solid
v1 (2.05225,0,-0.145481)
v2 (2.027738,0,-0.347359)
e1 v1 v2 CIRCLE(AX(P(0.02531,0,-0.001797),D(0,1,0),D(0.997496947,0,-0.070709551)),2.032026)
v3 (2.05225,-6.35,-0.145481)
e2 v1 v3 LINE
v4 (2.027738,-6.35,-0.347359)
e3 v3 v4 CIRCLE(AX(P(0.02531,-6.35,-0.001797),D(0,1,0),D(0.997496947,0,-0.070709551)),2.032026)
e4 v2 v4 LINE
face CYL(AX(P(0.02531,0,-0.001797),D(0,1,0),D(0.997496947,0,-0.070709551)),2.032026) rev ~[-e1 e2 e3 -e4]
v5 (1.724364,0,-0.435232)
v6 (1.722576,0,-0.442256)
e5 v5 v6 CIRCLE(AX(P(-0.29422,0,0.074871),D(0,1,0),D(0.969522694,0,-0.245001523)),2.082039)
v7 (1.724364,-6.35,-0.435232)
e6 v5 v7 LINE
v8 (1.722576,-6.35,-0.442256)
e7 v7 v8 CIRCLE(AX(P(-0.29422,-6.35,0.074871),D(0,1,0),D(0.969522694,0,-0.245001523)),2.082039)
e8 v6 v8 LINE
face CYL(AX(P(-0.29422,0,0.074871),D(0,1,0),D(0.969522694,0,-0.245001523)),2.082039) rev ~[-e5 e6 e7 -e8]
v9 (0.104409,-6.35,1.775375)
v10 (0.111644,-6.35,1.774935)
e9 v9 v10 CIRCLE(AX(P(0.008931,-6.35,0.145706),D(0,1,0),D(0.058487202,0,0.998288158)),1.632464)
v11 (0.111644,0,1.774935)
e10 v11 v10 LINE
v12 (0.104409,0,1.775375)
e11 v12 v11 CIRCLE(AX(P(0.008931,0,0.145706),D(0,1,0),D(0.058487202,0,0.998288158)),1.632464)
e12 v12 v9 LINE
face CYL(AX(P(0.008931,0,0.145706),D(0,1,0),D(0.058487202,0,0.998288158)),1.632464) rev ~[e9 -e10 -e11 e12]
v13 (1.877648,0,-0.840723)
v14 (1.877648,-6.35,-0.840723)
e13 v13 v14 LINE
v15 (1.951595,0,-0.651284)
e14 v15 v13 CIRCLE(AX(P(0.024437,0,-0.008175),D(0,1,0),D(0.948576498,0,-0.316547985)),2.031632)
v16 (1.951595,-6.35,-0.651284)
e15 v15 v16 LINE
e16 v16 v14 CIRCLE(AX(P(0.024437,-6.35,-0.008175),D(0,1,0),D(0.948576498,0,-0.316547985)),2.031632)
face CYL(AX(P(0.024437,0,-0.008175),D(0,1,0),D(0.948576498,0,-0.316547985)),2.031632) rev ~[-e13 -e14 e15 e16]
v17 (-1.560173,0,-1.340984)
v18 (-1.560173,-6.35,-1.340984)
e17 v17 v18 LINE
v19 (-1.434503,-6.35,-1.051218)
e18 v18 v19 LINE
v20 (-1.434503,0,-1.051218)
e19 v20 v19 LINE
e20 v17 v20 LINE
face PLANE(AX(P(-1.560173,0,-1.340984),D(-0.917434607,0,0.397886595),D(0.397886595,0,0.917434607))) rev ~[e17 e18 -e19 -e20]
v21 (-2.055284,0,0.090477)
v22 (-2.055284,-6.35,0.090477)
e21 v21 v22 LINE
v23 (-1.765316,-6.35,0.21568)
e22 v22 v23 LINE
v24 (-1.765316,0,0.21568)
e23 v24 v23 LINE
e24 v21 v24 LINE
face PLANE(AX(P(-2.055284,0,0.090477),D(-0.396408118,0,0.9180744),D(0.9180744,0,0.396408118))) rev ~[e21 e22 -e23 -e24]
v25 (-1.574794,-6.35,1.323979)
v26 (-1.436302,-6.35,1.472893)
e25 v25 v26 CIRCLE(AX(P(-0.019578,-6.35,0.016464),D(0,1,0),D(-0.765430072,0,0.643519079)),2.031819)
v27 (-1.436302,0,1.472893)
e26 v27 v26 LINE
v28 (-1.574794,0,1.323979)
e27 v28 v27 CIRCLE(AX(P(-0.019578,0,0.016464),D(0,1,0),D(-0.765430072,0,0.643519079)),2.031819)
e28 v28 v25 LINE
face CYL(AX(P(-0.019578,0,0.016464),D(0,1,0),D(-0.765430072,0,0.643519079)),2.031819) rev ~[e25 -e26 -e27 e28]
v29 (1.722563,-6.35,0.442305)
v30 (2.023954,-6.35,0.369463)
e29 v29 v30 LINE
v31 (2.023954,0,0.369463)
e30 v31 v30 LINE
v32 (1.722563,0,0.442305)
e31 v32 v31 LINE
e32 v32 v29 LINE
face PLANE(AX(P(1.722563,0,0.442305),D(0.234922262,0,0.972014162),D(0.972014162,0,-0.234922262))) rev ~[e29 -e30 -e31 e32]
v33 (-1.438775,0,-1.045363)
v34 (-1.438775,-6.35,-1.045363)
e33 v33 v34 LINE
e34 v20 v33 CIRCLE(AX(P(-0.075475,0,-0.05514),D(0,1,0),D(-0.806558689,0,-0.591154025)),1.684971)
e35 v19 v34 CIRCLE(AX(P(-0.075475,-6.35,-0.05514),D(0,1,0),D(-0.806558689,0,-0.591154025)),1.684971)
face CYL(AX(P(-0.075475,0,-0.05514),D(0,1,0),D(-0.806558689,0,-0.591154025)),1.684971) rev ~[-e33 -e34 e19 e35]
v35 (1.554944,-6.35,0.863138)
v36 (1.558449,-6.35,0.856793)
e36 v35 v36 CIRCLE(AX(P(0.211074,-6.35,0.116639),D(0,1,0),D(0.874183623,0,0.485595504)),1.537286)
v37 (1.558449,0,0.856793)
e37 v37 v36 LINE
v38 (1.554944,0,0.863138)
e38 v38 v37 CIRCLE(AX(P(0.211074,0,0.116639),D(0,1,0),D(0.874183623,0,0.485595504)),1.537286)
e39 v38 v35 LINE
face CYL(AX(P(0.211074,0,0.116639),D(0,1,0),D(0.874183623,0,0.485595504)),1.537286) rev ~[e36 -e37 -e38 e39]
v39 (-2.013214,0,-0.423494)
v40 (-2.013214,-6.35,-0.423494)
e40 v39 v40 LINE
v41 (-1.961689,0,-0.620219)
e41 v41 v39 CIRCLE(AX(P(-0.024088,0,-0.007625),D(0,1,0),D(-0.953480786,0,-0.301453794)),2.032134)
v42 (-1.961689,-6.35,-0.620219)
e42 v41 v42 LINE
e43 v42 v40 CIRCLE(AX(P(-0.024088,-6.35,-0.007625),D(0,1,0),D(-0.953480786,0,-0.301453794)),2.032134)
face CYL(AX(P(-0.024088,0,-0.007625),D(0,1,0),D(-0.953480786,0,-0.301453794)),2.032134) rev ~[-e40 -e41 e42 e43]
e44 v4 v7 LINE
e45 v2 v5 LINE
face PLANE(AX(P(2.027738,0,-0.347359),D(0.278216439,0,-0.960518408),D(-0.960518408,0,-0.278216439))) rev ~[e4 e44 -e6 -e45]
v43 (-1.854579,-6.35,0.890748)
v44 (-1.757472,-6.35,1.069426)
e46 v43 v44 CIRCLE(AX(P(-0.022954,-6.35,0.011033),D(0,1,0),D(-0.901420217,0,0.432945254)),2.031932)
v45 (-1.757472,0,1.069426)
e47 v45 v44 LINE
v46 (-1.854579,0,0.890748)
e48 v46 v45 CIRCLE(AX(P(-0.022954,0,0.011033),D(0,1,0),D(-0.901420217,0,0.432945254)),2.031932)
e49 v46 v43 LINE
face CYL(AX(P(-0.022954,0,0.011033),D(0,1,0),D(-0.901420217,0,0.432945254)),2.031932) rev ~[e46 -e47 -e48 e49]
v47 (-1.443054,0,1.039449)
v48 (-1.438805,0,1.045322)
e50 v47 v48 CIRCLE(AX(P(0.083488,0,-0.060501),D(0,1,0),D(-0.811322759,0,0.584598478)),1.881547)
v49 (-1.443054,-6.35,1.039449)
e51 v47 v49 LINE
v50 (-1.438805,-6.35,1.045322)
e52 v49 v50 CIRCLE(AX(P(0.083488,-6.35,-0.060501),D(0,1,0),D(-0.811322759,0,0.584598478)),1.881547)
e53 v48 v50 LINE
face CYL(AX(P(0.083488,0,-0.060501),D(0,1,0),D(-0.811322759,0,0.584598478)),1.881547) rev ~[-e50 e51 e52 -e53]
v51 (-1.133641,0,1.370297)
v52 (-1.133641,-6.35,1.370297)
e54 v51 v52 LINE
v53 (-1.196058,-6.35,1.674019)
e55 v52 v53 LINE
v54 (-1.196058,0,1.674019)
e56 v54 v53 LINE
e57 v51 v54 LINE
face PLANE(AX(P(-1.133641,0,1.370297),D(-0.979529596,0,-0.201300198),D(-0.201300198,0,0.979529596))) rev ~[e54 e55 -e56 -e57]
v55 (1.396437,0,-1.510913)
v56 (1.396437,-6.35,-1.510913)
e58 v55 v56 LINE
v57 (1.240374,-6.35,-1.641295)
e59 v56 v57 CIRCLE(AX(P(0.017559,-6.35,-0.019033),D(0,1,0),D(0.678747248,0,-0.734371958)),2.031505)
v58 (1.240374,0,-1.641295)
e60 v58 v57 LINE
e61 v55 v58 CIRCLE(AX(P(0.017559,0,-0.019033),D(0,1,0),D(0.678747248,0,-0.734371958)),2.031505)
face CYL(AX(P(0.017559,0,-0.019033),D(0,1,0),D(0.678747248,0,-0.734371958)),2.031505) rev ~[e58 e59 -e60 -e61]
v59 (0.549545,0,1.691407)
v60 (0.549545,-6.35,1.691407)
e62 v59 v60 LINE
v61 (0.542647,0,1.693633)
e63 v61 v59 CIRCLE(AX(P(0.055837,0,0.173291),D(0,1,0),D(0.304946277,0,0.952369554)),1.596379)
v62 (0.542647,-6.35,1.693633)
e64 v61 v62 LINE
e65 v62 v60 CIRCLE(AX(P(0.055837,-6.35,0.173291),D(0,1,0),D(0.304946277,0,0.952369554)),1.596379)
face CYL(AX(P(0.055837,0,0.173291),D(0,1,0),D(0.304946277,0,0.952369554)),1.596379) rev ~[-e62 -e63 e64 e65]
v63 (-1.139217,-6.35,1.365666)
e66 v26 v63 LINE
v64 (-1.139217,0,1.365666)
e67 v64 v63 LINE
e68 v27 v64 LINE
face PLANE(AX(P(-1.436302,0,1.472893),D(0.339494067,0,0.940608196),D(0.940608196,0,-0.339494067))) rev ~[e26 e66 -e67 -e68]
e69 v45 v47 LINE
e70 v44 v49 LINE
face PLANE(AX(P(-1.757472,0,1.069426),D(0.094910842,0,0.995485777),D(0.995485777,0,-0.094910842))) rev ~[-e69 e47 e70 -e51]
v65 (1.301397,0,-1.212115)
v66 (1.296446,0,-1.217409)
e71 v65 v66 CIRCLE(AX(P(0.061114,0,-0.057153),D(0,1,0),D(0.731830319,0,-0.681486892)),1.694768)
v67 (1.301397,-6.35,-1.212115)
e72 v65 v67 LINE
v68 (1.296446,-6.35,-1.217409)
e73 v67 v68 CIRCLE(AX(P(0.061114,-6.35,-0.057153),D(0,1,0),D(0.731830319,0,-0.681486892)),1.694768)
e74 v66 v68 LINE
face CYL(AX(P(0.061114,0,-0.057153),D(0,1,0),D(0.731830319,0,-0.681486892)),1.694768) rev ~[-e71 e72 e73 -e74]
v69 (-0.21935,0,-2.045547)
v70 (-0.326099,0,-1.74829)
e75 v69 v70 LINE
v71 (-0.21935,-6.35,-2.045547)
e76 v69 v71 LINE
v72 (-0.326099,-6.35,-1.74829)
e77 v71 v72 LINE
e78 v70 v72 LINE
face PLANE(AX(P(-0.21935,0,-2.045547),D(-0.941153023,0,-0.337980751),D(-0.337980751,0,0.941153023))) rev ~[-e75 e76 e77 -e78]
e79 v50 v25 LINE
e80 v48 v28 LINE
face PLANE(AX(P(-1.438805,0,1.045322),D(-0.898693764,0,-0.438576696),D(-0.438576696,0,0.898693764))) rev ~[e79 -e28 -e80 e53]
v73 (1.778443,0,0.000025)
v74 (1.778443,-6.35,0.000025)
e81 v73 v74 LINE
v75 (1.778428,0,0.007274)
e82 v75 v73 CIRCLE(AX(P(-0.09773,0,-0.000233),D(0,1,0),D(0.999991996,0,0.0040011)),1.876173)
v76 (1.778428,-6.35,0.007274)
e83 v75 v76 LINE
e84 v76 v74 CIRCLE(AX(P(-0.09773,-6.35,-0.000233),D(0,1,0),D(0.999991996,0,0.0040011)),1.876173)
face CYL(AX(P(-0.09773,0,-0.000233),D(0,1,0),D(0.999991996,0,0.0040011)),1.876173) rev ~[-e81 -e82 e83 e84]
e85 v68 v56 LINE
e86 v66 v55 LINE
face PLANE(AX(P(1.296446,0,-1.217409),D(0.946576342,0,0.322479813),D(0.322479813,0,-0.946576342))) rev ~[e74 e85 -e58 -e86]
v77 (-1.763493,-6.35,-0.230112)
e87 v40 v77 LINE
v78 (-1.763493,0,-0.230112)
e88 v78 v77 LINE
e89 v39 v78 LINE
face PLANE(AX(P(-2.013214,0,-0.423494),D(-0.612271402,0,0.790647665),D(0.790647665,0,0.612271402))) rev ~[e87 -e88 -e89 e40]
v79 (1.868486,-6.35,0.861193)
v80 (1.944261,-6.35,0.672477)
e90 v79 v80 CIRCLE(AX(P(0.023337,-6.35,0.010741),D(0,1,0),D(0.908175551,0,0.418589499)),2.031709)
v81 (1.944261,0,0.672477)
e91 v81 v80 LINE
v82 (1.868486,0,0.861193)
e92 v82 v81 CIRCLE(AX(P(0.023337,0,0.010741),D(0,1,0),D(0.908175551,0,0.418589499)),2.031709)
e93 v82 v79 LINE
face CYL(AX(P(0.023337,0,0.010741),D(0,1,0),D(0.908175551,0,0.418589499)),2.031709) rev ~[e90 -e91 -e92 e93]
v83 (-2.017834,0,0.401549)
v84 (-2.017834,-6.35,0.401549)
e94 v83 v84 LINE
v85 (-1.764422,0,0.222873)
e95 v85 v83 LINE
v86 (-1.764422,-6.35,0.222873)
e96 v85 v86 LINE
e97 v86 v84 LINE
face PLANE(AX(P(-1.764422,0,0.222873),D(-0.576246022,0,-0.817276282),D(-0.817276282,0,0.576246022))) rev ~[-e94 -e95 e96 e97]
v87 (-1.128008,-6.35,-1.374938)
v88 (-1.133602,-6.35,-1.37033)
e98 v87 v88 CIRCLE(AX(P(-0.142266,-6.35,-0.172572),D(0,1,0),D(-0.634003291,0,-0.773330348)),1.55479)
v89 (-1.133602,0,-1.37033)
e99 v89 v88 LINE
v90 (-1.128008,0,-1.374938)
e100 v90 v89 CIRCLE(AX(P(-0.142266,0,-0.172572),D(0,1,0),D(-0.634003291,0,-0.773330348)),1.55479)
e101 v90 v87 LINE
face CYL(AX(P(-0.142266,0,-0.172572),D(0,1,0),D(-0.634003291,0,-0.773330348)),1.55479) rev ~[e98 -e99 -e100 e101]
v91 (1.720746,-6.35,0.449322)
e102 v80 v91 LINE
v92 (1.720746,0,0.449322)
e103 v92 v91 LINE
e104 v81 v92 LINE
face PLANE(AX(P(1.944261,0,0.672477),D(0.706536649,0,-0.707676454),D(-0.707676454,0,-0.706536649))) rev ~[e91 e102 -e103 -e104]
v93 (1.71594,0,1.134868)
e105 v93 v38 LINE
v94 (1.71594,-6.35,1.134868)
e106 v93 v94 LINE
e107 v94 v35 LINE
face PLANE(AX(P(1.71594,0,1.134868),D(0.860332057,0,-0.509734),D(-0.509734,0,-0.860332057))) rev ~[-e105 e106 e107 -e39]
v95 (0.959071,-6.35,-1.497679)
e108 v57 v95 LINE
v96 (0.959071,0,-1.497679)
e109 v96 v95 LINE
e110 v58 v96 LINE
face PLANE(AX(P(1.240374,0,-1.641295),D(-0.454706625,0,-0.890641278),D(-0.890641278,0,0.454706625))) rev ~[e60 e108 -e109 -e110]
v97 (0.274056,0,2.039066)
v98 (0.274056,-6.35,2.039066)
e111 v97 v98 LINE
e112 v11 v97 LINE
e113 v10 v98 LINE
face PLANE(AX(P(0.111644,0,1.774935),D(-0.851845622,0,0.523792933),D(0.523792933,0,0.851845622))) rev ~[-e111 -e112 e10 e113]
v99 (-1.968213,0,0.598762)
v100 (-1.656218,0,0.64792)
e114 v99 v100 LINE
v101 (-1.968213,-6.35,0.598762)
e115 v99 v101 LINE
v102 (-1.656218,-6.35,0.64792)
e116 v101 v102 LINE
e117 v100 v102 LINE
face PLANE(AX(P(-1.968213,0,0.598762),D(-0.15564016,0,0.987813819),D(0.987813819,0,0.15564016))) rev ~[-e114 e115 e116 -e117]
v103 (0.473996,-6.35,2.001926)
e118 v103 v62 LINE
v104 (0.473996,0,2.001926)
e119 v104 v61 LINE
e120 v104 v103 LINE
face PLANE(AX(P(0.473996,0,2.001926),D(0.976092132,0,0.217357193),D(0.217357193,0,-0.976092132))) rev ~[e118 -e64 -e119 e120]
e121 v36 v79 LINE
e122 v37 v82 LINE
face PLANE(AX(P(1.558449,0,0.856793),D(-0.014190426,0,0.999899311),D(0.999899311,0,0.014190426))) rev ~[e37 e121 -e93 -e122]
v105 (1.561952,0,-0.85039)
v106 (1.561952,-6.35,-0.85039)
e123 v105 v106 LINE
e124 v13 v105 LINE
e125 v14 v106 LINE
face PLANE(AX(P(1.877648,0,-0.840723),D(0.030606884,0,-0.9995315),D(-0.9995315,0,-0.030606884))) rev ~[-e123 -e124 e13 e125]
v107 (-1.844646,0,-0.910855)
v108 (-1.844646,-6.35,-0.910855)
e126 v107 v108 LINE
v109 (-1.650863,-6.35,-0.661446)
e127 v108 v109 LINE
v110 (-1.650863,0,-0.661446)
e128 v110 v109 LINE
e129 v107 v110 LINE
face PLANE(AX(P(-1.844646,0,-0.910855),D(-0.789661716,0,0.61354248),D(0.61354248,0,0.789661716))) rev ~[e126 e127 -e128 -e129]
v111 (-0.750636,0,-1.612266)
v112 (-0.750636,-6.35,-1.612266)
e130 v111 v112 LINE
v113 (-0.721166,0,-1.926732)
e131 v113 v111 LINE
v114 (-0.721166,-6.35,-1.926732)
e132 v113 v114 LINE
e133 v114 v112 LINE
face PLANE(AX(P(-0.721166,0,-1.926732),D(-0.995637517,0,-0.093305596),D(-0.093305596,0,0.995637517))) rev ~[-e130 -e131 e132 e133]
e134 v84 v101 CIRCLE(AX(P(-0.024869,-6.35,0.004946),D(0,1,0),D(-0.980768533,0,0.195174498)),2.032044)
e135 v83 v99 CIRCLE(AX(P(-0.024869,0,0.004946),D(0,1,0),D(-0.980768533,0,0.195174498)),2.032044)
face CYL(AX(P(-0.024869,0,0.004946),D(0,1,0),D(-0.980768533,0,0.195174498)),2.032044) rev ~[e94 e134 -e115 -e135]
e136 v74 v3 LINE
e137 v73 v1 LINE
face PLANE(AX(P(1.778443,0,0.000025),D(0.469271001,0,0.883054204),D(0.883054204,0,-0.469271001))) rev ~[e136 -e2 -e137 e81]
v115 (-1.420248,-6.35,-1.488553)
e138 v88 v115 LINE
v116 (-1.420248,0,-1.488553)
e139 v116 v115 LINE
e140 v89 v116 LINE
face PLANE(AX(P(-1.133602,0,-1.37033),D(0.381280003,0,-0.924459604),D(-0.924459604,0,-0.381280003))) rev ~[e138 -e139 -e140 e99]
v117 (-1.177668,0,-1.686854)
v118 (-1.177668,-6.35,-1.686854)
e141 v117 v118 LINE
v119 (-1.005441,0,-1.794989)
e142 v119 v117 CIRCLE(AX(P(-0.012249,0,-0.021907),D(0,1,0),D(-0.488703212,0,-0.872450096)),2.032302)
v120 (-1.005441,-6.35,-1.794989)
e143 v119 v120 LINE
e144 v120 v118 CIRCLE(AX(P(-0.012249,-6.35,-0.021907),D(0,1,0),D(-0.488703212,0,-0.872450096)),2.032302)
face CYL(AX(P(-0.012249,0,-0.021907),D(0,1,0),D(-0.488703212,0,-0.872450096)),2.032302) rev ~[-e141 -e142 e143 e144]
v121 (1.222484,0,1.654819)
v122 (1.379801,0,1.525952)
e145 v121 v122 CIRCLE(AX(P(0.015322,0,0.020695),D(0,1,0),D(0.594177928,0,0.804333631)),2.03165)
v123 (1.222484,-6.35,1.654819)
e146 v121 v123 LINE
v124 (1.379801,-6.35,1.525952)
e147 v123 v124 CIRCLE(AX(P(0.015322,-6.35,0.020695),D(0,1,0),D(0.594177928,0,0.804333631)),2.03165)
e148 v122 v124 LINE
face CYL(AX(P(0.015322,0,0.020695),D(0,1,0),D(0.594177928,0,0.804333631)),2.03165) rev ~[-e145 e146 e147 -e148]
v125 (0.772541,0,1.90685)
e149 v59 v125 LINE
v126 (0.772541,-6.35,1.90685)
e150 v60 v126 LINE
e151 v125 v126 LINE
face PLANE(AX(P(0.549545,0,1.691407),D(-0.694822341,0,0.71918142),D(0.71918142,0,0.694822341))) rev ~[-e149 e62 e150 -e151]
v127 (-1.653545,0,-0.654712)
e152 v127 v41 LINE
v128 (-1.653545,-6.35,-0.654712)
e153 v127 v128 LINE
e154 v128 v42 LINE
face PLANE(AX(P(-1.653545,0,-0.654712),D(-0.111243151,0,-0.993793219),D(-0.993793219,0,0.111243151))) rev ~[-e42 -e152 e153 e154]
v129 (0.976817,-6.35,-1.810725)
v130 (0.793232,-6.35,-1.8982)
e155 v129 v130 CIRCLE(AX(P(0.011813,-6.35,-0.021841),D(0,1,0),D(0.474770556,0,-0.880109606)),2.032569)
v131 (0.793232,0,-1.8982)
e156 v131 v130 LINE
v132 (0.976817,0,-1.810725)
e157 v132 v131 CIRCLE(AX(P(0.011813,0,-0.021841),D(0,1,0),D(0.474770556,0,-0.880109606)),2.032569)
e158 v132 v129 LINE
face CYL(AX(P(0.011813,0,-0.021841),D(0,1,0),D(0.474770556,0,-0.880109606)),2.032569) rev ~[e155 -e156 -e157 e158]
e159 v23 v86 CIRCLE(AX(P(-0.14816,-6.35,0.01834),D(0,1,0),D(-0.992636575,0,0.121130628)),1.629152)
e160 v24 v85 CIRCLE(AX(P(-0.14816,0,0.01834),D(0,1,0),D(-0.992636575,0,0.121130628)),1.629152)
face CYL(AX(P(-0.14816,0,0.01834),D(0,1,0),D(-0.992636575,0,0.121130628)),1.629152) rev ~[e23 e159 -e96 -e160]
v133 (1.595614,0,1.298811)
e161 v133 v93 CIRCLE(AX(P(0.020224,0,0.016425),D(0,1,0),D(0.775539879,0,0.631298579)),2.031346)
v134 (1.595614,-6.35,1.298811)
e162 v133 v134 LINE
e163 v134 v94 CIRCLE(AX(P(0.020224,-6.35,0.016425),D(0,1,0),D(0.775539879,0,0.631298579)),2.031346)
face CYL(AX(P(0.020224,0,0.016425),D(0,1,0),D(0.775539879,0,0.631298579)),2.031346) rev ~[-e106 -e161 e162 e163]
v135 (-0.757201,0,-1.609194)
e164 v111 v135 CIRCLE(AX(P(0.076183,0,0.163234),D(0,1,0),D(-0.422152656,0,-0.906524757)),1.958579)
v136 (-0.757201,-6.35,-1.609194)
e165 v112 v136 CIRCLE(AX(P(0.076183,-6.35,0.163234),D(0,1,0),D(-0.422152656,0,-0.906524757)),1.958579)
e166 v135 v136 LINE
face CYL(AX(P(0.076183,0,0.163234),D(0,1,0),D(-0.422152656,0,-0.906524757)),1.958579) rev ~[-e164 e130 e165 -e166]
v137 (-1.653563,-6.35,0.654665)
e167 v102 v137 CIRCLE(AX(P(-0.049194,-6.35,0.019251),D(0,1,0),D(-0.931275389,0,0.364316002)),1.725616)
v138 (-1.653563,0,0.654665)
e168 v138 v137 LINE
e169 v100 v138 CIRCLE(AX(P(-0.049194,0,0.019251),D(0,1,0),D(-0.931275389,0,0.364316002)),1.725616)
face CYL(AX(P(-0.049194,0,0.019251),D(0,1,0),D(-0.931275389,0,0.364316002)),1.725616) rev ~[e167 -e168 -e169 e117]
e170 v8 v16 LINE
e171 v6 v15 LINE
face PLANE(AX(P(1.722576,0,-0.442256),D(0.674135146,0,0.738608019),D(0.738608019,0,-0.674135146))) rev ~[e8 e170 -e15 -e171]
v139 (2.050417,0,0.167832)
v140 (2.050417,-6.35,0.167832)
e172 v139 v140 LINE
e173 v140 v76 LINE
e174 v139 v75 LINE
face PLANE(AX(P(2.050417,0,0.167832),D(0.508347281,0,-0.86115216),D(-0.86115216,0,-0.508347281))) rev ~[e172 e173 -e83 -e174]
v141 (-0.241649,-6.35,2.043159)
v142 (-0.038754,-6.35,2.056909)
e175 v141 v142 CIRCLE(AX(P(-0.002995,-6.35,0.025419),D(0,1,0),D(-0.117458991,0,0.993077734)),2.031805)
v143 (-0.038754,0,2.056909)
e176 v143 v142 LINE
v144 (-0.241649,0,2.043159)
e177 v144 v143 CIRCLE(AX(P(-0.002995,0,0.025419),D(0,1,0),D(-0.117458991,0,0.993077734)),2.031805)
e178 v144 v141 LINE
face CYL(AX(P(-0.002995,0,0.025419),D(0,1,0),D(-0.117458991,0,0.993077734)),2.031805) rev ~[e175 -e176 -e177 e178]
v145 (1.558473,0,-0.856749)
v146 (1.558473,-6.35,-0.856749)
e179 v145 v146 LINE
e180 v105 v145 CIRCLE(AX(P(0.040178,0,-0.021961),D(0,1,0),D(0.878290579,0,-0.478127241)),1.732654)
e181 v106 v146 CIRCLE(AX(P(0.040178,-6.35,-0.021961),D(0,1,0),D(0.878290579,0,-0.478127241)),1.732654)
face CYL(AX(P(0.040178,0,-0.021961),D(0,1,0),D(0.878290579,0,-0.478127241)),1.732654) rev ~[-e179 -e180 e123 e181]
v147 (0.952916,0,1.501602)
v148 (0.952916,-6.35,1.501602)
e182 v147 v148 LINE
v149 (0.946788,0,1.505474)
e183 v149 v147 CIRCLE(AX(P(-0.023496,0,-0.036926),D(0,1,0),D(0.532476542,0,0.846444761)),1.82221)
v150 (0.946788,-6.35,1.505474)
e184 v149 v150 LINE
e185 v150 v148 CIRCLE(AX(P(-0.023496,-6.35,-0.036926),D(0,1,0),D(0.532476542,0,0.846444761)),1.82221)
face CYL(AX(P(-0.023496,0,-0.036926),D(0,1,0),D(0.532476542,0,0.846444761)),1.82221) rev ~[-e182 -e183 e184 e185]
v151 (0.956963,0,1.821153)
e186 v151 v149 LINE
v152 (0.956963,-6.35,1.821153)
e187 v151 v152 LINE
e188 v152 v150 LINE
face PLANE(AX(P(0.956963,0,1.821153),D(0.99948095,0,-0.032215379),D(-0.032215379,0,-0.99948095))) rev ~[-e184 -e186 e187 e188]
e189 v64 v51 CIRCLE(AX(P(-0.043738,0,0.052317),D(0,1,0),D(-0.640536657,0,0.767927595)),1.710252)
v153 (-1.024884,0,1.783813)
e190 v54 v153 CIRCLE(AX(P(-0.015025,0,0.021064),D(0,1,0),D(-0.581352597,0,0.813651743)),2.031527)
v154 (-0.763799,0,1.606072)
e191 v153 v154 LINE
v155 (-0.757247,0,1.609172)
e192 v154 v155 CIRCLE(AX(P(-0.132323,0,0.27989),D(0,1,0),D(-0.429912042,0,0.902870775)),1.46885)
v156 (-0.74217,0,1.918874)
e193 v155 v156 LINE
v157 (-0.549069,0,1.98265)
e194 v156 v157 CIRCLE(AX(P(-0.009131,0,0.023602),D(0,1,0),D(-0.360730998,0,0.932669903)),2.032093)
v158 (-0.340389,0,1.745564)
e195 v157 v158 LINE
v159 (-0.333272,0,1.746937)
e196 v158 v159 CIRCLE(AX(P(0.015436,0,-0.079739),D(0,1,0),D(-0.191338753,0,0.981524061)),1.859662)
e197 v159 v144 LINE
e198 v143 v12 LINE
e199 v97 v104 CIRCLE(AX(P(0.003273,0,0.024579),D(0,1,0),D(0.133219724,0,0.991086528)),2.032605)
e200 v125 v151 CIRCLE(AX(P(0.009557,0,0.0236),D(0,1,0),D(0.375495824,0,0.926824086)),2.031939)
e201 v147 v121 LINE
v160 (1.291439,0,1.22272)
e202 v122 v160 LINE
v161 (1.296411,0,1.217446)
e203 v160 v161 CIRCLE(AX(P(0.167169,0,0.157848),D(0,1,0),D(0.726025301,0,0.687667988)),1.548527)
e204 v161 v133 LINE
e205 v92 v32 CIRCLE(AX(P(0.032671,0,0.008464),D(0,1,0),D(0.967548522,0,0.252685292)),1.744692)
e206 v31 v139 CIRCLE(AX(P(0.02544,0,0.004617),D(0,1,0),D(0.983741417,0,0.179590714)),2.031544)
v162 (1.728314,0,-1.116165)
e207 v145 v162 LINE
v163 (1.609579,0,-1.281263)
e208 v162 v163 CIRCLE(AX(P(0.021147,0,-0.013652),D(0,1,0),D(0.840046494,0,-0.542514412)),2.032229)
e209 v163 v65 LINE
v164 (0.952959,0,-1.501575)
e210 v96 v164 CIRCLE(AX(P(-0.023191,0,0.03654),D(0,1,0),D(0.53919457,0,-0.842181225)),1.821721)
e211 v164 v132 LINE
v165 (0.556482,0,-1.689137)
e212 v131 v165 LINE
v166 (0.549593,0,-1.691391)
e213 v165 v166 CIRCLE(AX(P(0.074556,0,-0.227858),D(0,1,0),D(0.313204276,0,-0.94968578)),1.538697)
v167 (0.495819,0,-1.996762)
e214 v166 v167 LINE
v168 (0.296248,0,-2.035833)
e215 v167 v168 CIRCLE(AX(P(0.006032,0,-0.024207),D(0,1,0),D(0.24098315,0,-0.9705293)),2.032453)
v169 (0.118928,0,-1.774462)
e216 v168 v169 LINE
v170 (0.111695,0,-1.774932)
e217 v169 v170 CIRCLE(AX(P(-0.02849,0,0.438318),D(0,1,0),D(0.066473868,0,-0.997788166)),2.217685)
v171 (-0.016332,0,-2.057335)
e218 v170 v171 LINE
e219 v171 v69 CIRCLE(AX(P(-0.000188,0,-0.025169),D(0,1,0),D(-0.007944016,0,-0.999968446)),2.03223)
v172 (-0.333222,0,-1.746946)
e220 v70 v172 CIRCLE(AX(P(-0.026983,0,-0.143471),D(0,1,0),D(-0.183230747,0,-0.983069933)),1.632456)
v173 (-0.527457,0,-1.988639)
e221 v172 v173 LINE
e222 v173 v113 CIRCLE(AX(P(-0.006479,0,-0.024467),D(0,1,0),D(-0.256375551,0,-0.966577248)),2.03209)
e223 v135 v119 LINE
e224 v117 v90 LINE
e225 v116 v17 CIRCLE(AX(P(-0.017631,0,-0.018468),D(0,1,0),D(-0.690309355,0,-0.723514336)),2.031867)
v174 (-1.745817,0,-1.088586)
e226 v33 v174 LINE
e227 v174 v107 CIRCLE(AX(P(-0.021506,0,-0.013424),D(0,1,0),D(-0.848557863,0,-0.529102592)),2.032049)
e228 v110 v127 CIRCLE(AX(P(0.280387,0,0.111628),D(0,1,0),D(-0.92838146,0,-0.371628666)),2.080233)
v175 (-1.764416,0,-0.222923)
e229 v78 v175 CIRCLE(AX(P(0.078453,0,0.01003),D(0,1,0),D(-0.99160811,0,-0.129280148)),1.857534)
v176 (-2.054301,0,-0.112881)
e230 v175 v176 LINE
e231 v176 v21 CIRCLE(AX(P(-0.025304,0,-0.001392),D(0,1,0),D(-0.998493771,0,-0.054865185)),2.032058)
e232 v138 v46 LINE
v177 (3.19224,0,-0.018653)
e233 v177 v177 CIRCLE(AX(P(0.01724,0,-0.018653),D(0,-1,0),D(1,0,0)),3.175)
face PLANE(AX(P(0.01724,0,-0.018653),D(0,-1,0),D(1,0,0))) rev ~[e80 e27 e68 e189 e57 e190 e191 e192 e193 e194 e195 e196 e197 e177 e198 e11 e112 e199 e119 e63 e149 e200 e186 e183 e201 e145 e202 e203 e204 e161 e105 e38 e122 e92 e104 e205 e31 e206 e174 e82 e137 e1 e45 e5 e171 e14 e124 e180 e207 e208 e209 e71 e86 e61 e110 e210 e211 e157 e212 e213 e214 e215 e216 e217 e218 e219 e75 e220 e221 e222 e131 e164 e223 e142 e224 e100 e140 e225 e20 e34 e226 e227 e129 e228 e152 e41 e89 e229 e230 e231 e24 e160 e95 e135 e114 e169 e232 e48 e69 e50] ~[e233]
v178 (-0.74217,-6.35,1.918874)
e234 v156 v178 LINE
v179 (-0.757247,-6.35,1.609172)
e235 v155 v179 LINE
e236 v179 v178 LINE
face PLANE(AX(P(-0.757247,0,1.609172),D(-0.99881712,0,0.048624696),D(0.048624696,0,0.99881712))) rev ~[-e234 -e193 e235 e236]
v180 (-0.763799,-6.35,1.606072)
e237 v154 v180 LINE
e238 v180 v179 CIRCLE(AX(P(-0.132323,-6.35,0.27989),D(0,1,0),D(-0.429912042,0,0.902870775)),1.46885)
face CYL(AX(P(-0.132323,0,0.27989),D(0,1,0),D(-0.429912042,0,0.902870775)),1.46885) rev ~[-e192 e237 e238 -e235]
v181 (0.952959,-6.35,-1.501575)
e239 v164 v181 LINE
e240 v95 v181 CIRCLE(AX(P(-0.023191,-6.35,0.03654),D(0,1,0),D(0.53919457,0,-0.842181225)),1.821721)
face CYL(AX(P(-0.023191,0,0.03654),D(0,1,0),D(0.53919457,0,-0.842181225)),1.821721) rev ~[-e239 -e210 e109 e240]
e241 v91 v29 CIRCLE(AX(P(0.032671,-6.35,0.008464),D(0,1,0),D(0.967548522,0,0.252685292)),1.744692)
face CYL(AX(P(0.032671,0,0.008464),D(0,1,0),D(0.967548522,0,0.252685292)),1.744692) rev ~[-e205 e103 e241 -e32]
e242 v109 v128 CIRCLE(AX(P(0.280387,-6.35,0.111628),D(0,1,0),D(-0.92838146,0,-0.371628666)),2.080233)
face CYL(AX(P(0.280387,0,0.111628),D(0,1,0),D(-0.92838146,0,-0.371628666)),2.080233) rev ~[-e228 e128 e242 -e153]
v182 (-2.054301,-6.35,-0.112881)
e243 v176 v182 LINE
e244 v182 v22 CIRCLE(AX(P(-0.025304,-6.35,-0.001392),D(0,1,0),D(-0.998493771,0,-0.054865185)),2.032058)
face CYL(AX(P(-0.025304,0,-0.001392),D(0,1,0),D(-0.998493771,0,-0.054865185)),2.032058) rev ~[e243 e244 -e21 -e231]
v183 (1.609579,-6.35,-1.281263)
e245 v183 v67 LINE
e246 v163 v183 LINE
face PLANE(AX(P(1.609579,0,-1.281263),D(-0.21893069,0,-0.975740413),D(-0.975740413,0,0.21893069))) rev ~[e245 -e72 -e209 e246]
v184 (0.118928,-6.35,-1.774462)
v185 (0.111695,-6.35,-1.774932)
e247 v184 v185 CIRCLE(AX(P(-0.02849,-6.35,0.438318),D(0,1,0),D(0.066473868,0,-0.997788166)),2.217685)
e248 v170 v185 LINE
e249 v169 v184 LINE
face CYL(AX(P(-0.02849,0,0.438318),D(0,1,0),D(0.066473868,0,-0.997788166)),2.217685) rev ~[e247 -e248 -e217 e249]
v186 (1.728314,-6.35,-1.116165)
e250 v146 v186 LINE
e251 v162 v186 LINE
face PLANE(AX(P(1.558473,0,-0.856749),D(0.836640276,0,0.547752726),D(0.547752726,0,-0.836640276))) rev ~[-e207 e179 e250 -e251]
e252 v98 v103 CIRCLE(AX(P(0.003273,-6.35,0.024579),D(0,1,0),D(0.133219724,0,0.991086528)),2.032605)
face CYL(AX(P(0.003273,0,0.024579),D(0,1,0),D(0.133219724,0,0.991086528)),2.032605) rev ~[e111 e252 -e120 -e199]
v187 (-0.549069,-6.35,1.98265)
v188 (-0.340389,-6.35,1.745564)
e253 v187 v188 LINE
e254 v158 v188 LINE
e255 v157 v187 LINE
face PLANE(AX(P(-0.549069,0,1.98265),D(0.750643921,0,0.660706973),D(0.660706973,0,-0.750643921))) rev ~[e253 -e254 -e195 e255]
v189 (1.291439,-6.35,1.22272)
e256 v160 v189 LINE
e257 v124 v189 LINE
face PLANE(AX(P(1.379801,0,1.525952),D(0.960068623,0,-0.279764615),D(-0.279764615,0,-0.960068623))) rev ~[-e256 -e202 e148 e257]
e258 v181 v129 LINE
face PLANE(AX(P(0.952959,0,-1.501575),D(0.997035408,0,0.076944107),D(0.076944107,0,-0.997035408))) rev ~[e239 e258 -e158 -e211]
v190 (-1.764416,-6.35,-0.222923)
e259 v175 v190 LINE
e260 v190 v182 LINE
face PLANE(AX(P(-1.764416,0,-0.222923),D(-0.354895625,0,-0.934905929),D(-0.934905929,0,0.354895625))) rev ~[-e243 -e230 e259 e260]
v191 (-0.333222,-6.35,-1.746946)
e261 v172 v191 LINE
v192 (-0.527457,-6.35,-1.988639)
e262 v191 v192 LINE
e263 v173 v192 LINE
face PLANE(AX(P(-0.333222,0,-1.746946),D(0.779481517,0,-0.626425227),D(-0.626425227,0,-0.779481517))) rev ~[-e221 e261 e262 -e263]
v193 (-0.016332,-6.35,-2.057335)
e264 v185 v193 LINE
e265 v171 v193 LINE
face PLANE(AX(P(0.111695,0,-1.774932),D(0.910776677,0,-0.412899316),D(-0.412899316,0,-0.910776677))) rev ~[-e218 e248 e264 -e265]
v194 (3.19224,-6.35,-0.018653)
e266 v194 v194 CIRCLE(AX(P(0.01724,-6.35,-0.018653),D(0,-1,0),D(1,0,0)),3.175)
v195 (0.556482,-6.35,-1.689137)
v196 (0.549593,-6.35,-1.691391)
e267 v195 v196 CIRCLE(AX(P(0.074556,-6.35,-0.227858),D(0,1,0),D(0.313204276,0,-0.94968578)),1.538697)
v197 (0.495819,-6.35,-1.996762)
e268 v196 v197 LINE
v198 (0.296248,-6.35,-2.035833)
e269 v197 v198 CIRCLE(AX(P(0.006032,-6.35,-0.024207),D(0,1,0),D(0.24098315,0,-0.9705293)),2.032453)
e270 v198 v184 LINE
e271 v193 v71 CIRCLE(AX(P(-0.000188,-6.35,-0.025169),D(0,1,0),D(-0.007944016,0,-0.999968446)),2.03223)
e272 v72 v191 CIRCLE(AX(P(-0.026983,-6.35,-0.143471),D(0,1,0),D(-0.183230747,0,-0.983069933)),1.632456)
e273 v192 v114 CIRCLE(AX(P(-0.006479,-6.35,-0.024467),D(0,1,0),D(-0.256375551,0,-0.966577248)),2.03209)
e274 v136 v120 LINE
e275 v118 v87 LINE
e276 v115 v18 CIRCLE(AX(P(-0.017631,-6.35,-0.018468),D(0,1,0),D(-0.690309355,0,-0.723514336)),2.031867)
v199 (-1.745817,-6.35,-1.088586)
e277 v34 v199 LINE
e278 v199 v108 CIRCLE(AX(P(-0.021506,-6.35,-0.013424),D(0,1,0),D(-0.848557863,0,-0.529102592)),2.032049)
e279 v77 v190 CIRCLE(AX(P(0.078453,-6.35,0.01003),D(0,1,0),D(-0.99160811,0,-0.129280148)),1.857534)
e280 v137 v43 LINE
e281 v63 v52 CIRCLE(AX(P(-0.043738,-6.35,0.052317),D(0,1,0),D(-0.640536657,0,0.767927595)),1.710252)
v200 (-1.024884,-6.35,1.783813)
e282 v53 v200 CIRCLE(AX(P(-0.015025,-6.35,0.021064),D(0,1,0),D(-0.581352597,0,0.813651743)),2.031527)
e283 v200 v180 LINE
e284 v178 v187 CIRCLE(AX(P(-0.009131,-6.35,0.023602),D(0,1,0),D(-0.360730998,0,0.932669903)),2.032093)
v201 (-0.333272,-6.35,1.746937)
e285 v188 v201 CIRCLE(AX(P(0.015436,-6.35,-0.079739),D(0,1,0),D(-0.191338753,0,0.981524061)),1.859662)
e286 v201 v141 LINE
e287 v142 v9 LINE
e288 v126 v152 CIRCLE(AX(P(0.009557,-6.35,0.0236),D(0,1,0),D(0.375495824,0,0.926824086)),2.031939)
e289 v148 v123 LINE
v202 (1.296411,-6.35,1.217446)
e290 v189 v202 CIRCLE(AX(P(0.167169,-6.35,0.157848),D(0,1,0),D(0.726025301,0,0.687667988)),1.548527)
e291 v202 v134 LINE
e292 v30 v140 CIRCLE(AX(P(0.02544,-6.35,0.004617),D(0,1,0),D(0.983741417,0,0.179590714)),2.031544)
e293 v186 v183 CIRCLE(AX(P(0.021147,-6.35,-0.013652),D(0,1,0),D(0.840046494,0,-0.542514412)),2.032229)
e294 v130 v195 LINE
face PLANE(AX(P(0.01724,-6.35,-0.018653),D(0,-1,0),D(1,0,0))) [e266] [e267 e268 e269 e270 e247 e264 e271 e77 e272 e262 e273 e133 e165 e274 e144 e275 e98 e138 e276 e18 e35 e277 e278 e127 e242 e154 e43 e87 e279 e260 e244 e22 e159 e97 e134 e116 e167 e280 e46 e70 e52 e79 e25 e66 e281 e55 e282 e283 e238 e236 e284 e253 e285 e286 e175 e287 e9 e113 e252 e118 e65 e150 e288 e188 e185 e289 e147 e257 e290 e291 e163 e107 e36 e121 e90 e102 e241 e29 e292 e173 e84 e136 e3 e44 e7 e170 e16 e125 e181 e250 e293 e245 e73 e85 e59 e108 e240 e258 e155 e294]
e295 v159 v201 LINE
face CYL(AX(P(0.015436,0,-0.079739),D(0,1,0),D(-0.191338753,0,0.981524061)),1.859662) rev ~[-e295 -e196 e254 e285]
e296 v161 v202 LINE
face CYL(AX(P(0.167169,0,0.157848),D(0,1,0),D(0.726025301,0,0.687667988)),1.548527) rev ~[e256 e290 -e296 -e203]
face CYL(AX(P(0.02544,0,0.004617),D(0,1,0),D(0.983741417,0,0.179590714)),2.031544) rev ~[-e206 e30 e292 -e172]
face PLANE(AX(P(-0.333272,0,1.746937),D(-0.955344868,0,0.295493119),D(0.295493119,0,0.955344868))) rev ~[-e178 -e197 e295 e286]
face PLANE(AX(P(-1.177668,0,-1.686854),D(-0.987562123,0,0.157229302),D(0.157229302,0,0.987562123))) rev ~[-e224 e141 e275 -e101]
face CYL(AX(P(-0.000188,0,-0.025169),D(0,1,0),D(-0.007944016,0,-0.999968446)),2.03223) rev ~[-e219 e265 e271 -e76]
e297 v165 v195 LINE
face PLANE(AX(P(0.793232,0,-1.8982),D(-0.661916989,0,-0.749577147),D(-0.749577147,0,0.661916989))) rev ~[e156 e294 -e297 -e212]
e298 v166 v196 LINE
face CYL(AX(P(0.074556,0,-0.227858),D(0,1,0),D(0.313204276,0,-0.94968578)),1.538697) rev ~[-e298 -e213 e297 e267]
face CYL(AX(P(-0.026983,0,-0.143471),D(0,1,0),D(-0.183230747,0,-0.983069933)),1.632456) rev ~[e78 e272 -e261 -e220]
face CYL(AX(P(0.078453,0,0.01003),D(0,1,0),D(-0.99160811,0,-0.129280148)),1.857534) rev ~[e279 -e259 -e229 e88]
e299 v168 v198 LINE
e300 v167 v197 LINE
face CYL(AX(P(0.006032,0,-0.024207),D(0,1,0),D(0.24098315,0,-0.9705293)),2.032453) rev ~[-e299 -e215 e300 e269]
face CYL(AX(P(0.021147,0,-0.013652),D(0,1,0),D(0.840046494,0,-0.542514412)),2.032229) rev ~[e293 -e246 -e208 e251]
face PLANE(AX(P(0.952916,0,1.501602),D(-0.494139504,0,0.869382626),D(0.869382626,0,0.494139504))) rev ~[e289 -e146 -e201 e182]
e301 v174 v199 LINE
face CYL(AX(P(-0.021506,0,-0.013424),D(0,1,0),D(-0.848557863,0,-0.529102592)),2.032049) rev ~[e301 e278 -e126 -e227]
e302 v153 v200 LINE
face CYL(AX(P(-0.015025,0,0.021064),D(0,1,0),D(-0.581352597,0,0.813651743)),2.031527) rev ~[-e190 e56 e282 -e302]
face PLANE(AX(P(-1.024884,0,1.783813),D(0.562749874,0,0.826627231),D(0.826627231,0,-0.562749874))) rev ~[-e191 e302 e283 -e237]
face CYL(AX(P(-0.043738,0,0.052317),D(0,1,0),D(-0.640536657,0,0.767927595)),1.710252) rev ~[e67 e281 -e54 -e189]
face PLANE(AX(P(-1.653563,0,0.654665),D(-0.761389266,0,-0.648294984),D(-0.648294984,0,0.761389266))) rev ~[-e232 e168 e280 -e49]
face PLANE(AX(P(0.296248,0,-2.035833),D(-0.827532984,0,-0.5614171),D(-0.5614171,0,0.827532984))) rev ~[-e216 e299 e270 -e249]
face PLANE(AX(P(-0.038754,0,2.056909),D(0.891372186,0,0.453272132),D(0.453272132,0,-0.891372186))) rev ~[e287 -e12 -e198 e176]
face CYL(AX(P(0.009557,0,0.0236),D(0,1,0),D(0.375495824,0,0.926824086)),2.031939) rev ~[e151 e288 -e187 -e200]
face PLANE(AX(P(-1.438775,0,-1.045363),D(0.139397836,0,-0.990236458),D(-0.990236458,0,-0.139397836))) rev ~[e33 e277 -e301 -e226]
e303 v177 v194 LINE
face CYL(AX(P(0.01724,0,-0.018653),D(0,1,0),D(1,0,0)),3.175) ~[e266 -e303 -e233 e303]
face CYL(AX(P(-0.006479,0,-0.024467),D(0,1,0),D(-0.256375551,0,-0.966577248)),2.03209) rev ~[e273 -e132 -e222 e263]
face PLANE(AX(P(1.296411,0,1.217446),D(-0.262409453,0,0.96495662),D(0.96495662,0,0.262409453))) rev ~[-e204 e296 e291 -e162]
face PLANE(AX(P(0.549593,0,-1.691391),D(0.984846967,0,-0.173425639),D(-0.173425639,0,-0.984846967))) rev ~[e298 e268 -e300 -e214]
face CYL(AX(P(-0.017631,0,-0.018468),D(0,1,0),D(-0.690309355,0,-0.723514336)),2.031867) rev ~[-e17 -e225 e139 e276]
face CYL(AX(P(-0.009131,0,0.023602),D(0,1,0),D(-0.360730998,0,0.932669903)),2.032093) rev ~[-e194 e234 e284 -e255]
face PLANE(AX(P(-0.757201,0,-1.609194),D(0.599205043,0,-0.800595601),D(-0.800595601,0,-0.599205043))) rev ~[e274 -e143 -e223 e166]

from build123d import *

# Parameters (mm, degrees)
F0_R     = 3.175
F1_DEPTH = 6.35


with BuildPart() as f1:
    # F0 (on Front) → F1 (new body)
    with BuildSketch(Plane.XZ):
        with Locations((0.01724, -0.018653)):
            Circle(F0_R)
        with BuildLine():
            ThreePointArc((1.778428, 0.007274), (1.778439, 0.00365), (1.778443, 2.5e-05))
            Line((1.778443, 2.5e-05), (2.05225, -0.145481))
            ThreePointArc((2.05225, -0.145481), (2.042521, -0.246727), (2.027738, -0.347359))
            Line((2.027738, -0.347359), (1.724364, -0.435232))
            ThreePointArc((1.724364, -0.435232), (1.723473, -0.438745), (1.722576, -0.442256))
            Line((1.722576, -0.442256), (1.951595, -0.651284))
            ThreePointArc((1.951595, -0.651284), (1.916993, -0.74693), (1.877648, -0.840723))
            Line((1.877648, -0.840723), (1.561952, -0.85039))
            ThreePointArc((1.561952, -0.85039), (1.560216, -0.853571), (1.558473, -0.856749))
            Line((1.558473, -0.856749), (1.728314, -1.116165))
            ThreePointArc((1.728314, -1.116165), (1.671013, -1.2002), (1.609579, -1.281263))
            Line((1.609579, -1.281263), (1.301397, -1.212115))
            ThreePointArc((1.301397, -1.212115), (1.298924, -1.214765), (1.296446, -1.217409))
            Line((1.296446, -1.217409), (1.396437, -1.510913))
            ThreePointArc((1.396437, -1.510913), (1.320038, -1.578058), (1.240374, -1.641295))
            Line((1.240374, -1.641295), (0.959071, -1.497679))
            ThreePointArc((0.959071, -1.497679), (0.956017, -1.49963), (0.952959, -1.501575))
            Line((0.952959, -1.501575), (0.976817, -1.810725))
            ThreePointArc((0.976817, -1.810725), (0.886119, -1.85676), (0.793232, -1.8982))
            Line((0.793232, -1.8982), (0.556482, -1.689137))
            ThreePointArc((0.556482, -1.689137), (0.553039, -1.690268), (0.549593, -1.691391))
            Line((0.549593, -1.691391), (0.495819, -1.996762))
            ThreePointArc((0.495819, -1.996762), (0.396523, -2.018795), (0.296248, -2.035833))
            Line((0.296248, -2.035833), (0.118928, -1.774462))
            ThreePointArc((0.118928, -1.774462), (0.115311, -1.7747), (0.111695, -1.774932))
            Line((0.111695, -1.774932), (-0.016332, -2.057335))
            ThreePointArc((-0.016332, -2.057335), (-0.117989, -2.053982), (-0.21935, -2.045547))
            Line((-0.21935, -2.045547), (-0.326099, -1.74829))
            ThreePointArc((-0.326099, -1.74829), (-0.329661, -1.747622), (-0.333222, -1.746946))
            Line((-0.333222, -1.746946), (-0.527457, -1.988639))
            ThreePointArc((-0.527457, -1.988639), (-0.625087, -1.96011), (-0.721166, -1.926732))
            Line((-0.721166, -1.926732), (-0.750636, -1.612266))
            ThreePointArc((-0.750636, -1.612266), (-0.75392, -1.610733), (-0.757201, -1.609194))
            Line((-0.757201, -1.609194), (-1.005441, -1.794989))
            ThreePointArc((-1.005441, -1.794989), (-1.092908, -1.743077), (-1.177668, -1.686854))
            Line((-1.177668, -1.686854), (-1.128008, -1.374938))
            ThreePointArc((-1.128008, -1.374938), (-1.130808, -1.372637), (-1.133602, -1.37033))
            Line((-1.133602, -1.37033), (-1.420248, -1.488553))
            ThreePointArc((-1.420248, -1.488553), (-1.492058, -1.41652), (-1.560173, -1.340984))
            Line((-1.560173, -1.340984), (-1.434503, -1.051218))
            ThreePointArc((-1.434503, -1.051218), (-1.436642, -1.048293), (-1.438775, -1.045363))
            Line((-1.438775, -1.045363), (-1.745817, -1.088586))
            ThreePointArc((-1.745817, -1.088586), (-1.797456, -1.000958), (-1.844646, -0.910855))
            Line((-1.844646, -0.910855), (-1.650863, -0.661446))
            ThreePointArc((-1.650863, -0.661446), (-1.652207, -0.65808), (-1.653545, -0.654712))
            Line((-1.653545, -0.654712), (-1.961689, -0.620219))
            ThreePointArc((-1.961689, -0.620219), (-1.989914, -0.522501), (-2.013214, -0.423494))
            Line((-2.013214, -0.423494), (-1.763493, -0.230112))
            ThreePointArc((-1.763493, -0.230112), (-1.763958, -0.226518), (-1.764416, -0.222923))
            Line((-1.764416, -0.222923), (-2.054301, -0.112881))
            ThreePointArc((-2.054301, -0.112881), (-2.057338, -0.011215), (-2.055284, 0.090477))
            Line((-2.055284, 0.090477), (-1.765316, 0.21568))
            ThreePointArc((-1.765316, 0.21568), (-1.764873, 0.219277), (-1.764422, 0.222873))
            Line((-1.764422, 0.222873), (-2.017834, 0.401549))
            ThreePointArc((-2.017834, 0.401549), (-1.995492, 0.500777), (-1.968213, 0.598762))
            Line((-1.968213, 0.598762), (-1.656218, 0.64792))
            ThreePointArc((-1.656218, 0.64792), (-1.654894, 0.651294), (-1.653563, 0.654665))
            Line((-1.653563, 0.654665), (-1.854579, 0.890748))
            ThreePointArc((-1.854579, 0.890748), (-1.808262, 0.981303), (-1.757472, 1.069426))
            Line((-1.757472, 1.069426), (-1.443054, 1.039449))
            ThreePointArc((-1.443054, 1.039449), (-1.440932, 1.042388), (-1.438805, 1.045322))
            Line((-1.438805, 1.045322), (-1.574794, 1.323979))
            ThreePointArc((-1.574794, 1.323979), (-1.507412, 1.40017), (-1.436302, 1.472893))
            Line((-1.436302, 1.472893), (-1.139217, 1.365666))
            ThreePointArc((-1.139217, 1.365666), (-1.136432, 1.367984), (-1.133641, 1.370297))
            Line((-1.133641, 1.370297), (-1.196058, 1.674019))
            ThreePointArc((-1.196058, 1.674019), (-1.111846, 1.731059), (-1.024884, 1.783813))
            Line((-1.024884, 1.783813), (-0.763799, 1.606072))
            ThreePointArc((-0.763799, 1.606072), (-0.760525, 1.607626), (-0.757247, 1.609172))
            Line((-0.757247, 1.609172), (-0.74217, 1.918874))
            ThreePointArc((-0.74217, 1.918874), (-0.646418, 1.953179), (-0.549069, 1.98265))
            Line((-0.549069, 1.98265), (-0.340389, 1.745564))
            ThreePointArc((-0.340389, 1.745564), (-0.336831, 1.746254), (-0.333272, 1.746937))
            Line((-0.333272, 1.746937), (-0.241649, 2.043159))
            ThreePointArc((-0.241649, 2.043159), (-0.140374, 2.052574), (-0.038754, 2.056909))
            Line((-0.038754, 2.056909), (0.104409, 1.775375))
            ThreePointArc((0.104409, 1.775375), (0.108027, 1.775159), (0.111644, 1.774935))
            Line((0.111644, 1.774935), (0.274056, 2.039066))
            ThreePointArc((0.274056, 2.039066), (0.374491, 2.022998), (0.473996, 2.001926))
            Line((0.473996, 2.001926), (0.542647, 1.693633))
            ThreePointArc((0.542647, 1.693633), (0.546097, 1.692524), (0.549545, 1.691407))
            Line((0.549545, 1.691407), (0.772541, 1.90685))
            ThreePointArc((0.772541, 1.90685), (0.865825, 1.86631), (0.956963, 1.821153))
            Line((0.956963, 1.821153), (0.946788, 1.505474))
            ThreePointArc((0.946788, 1.505474), (0.949854, 1.503541), (0.952916, 1.501602))
            Line((0.952916, 1.501602), (1.222484, 1.654819))
            ThreePointArc((1.222484, 1.654819), (1.302756, 1.592355), (1.379801, 1.525952))
            Line((1.379801, 1.525952), (1.291439, 1.22272))
            ThreePointArc((1.291439, 1.22272), (1.293928, 1.220086), (1.296411, 1.217446))
            Line((1.296411, 1.217446), (1.595614, 1.298811))
            ThreePointArc((1.595614, 1.298811), (1.65783, 1.218346), (1.71594, 1.134868))
            Line((1.71594, 1.134868), (1.554944, 0.863138))
            ThreePointArc((1.554944, 0.863138), (1.5567, 0.859968), (1.558449, 0.856793))
            Line((1.558449, 0.856793), (1.868486, 0.861193))
            ThreePointArc((1.868486, 0.861193), (1.908736, 0.767784), (1.944261, 0.672477))
            Line((1.944261, 0.672477), (1.720746, 0.449322))
            ThreePointArc((1.720746, 0.449322), (1.721658, 0.445815), (1.722563, 0.442305))
            Line((1.722563, 0.442305), (2.023954, 0.369463))
            ThreePointArc((2.023954, 0.369463), (2.03971, 0.268979), (2.050417, 0.167832))
            Line((2.050417, 0.167832), (1.778428, 0.007274))
        make_face(mode=Mode.SUBTRACT)
    extrude(amount=F1_DEPTH)


solid = f1.part
